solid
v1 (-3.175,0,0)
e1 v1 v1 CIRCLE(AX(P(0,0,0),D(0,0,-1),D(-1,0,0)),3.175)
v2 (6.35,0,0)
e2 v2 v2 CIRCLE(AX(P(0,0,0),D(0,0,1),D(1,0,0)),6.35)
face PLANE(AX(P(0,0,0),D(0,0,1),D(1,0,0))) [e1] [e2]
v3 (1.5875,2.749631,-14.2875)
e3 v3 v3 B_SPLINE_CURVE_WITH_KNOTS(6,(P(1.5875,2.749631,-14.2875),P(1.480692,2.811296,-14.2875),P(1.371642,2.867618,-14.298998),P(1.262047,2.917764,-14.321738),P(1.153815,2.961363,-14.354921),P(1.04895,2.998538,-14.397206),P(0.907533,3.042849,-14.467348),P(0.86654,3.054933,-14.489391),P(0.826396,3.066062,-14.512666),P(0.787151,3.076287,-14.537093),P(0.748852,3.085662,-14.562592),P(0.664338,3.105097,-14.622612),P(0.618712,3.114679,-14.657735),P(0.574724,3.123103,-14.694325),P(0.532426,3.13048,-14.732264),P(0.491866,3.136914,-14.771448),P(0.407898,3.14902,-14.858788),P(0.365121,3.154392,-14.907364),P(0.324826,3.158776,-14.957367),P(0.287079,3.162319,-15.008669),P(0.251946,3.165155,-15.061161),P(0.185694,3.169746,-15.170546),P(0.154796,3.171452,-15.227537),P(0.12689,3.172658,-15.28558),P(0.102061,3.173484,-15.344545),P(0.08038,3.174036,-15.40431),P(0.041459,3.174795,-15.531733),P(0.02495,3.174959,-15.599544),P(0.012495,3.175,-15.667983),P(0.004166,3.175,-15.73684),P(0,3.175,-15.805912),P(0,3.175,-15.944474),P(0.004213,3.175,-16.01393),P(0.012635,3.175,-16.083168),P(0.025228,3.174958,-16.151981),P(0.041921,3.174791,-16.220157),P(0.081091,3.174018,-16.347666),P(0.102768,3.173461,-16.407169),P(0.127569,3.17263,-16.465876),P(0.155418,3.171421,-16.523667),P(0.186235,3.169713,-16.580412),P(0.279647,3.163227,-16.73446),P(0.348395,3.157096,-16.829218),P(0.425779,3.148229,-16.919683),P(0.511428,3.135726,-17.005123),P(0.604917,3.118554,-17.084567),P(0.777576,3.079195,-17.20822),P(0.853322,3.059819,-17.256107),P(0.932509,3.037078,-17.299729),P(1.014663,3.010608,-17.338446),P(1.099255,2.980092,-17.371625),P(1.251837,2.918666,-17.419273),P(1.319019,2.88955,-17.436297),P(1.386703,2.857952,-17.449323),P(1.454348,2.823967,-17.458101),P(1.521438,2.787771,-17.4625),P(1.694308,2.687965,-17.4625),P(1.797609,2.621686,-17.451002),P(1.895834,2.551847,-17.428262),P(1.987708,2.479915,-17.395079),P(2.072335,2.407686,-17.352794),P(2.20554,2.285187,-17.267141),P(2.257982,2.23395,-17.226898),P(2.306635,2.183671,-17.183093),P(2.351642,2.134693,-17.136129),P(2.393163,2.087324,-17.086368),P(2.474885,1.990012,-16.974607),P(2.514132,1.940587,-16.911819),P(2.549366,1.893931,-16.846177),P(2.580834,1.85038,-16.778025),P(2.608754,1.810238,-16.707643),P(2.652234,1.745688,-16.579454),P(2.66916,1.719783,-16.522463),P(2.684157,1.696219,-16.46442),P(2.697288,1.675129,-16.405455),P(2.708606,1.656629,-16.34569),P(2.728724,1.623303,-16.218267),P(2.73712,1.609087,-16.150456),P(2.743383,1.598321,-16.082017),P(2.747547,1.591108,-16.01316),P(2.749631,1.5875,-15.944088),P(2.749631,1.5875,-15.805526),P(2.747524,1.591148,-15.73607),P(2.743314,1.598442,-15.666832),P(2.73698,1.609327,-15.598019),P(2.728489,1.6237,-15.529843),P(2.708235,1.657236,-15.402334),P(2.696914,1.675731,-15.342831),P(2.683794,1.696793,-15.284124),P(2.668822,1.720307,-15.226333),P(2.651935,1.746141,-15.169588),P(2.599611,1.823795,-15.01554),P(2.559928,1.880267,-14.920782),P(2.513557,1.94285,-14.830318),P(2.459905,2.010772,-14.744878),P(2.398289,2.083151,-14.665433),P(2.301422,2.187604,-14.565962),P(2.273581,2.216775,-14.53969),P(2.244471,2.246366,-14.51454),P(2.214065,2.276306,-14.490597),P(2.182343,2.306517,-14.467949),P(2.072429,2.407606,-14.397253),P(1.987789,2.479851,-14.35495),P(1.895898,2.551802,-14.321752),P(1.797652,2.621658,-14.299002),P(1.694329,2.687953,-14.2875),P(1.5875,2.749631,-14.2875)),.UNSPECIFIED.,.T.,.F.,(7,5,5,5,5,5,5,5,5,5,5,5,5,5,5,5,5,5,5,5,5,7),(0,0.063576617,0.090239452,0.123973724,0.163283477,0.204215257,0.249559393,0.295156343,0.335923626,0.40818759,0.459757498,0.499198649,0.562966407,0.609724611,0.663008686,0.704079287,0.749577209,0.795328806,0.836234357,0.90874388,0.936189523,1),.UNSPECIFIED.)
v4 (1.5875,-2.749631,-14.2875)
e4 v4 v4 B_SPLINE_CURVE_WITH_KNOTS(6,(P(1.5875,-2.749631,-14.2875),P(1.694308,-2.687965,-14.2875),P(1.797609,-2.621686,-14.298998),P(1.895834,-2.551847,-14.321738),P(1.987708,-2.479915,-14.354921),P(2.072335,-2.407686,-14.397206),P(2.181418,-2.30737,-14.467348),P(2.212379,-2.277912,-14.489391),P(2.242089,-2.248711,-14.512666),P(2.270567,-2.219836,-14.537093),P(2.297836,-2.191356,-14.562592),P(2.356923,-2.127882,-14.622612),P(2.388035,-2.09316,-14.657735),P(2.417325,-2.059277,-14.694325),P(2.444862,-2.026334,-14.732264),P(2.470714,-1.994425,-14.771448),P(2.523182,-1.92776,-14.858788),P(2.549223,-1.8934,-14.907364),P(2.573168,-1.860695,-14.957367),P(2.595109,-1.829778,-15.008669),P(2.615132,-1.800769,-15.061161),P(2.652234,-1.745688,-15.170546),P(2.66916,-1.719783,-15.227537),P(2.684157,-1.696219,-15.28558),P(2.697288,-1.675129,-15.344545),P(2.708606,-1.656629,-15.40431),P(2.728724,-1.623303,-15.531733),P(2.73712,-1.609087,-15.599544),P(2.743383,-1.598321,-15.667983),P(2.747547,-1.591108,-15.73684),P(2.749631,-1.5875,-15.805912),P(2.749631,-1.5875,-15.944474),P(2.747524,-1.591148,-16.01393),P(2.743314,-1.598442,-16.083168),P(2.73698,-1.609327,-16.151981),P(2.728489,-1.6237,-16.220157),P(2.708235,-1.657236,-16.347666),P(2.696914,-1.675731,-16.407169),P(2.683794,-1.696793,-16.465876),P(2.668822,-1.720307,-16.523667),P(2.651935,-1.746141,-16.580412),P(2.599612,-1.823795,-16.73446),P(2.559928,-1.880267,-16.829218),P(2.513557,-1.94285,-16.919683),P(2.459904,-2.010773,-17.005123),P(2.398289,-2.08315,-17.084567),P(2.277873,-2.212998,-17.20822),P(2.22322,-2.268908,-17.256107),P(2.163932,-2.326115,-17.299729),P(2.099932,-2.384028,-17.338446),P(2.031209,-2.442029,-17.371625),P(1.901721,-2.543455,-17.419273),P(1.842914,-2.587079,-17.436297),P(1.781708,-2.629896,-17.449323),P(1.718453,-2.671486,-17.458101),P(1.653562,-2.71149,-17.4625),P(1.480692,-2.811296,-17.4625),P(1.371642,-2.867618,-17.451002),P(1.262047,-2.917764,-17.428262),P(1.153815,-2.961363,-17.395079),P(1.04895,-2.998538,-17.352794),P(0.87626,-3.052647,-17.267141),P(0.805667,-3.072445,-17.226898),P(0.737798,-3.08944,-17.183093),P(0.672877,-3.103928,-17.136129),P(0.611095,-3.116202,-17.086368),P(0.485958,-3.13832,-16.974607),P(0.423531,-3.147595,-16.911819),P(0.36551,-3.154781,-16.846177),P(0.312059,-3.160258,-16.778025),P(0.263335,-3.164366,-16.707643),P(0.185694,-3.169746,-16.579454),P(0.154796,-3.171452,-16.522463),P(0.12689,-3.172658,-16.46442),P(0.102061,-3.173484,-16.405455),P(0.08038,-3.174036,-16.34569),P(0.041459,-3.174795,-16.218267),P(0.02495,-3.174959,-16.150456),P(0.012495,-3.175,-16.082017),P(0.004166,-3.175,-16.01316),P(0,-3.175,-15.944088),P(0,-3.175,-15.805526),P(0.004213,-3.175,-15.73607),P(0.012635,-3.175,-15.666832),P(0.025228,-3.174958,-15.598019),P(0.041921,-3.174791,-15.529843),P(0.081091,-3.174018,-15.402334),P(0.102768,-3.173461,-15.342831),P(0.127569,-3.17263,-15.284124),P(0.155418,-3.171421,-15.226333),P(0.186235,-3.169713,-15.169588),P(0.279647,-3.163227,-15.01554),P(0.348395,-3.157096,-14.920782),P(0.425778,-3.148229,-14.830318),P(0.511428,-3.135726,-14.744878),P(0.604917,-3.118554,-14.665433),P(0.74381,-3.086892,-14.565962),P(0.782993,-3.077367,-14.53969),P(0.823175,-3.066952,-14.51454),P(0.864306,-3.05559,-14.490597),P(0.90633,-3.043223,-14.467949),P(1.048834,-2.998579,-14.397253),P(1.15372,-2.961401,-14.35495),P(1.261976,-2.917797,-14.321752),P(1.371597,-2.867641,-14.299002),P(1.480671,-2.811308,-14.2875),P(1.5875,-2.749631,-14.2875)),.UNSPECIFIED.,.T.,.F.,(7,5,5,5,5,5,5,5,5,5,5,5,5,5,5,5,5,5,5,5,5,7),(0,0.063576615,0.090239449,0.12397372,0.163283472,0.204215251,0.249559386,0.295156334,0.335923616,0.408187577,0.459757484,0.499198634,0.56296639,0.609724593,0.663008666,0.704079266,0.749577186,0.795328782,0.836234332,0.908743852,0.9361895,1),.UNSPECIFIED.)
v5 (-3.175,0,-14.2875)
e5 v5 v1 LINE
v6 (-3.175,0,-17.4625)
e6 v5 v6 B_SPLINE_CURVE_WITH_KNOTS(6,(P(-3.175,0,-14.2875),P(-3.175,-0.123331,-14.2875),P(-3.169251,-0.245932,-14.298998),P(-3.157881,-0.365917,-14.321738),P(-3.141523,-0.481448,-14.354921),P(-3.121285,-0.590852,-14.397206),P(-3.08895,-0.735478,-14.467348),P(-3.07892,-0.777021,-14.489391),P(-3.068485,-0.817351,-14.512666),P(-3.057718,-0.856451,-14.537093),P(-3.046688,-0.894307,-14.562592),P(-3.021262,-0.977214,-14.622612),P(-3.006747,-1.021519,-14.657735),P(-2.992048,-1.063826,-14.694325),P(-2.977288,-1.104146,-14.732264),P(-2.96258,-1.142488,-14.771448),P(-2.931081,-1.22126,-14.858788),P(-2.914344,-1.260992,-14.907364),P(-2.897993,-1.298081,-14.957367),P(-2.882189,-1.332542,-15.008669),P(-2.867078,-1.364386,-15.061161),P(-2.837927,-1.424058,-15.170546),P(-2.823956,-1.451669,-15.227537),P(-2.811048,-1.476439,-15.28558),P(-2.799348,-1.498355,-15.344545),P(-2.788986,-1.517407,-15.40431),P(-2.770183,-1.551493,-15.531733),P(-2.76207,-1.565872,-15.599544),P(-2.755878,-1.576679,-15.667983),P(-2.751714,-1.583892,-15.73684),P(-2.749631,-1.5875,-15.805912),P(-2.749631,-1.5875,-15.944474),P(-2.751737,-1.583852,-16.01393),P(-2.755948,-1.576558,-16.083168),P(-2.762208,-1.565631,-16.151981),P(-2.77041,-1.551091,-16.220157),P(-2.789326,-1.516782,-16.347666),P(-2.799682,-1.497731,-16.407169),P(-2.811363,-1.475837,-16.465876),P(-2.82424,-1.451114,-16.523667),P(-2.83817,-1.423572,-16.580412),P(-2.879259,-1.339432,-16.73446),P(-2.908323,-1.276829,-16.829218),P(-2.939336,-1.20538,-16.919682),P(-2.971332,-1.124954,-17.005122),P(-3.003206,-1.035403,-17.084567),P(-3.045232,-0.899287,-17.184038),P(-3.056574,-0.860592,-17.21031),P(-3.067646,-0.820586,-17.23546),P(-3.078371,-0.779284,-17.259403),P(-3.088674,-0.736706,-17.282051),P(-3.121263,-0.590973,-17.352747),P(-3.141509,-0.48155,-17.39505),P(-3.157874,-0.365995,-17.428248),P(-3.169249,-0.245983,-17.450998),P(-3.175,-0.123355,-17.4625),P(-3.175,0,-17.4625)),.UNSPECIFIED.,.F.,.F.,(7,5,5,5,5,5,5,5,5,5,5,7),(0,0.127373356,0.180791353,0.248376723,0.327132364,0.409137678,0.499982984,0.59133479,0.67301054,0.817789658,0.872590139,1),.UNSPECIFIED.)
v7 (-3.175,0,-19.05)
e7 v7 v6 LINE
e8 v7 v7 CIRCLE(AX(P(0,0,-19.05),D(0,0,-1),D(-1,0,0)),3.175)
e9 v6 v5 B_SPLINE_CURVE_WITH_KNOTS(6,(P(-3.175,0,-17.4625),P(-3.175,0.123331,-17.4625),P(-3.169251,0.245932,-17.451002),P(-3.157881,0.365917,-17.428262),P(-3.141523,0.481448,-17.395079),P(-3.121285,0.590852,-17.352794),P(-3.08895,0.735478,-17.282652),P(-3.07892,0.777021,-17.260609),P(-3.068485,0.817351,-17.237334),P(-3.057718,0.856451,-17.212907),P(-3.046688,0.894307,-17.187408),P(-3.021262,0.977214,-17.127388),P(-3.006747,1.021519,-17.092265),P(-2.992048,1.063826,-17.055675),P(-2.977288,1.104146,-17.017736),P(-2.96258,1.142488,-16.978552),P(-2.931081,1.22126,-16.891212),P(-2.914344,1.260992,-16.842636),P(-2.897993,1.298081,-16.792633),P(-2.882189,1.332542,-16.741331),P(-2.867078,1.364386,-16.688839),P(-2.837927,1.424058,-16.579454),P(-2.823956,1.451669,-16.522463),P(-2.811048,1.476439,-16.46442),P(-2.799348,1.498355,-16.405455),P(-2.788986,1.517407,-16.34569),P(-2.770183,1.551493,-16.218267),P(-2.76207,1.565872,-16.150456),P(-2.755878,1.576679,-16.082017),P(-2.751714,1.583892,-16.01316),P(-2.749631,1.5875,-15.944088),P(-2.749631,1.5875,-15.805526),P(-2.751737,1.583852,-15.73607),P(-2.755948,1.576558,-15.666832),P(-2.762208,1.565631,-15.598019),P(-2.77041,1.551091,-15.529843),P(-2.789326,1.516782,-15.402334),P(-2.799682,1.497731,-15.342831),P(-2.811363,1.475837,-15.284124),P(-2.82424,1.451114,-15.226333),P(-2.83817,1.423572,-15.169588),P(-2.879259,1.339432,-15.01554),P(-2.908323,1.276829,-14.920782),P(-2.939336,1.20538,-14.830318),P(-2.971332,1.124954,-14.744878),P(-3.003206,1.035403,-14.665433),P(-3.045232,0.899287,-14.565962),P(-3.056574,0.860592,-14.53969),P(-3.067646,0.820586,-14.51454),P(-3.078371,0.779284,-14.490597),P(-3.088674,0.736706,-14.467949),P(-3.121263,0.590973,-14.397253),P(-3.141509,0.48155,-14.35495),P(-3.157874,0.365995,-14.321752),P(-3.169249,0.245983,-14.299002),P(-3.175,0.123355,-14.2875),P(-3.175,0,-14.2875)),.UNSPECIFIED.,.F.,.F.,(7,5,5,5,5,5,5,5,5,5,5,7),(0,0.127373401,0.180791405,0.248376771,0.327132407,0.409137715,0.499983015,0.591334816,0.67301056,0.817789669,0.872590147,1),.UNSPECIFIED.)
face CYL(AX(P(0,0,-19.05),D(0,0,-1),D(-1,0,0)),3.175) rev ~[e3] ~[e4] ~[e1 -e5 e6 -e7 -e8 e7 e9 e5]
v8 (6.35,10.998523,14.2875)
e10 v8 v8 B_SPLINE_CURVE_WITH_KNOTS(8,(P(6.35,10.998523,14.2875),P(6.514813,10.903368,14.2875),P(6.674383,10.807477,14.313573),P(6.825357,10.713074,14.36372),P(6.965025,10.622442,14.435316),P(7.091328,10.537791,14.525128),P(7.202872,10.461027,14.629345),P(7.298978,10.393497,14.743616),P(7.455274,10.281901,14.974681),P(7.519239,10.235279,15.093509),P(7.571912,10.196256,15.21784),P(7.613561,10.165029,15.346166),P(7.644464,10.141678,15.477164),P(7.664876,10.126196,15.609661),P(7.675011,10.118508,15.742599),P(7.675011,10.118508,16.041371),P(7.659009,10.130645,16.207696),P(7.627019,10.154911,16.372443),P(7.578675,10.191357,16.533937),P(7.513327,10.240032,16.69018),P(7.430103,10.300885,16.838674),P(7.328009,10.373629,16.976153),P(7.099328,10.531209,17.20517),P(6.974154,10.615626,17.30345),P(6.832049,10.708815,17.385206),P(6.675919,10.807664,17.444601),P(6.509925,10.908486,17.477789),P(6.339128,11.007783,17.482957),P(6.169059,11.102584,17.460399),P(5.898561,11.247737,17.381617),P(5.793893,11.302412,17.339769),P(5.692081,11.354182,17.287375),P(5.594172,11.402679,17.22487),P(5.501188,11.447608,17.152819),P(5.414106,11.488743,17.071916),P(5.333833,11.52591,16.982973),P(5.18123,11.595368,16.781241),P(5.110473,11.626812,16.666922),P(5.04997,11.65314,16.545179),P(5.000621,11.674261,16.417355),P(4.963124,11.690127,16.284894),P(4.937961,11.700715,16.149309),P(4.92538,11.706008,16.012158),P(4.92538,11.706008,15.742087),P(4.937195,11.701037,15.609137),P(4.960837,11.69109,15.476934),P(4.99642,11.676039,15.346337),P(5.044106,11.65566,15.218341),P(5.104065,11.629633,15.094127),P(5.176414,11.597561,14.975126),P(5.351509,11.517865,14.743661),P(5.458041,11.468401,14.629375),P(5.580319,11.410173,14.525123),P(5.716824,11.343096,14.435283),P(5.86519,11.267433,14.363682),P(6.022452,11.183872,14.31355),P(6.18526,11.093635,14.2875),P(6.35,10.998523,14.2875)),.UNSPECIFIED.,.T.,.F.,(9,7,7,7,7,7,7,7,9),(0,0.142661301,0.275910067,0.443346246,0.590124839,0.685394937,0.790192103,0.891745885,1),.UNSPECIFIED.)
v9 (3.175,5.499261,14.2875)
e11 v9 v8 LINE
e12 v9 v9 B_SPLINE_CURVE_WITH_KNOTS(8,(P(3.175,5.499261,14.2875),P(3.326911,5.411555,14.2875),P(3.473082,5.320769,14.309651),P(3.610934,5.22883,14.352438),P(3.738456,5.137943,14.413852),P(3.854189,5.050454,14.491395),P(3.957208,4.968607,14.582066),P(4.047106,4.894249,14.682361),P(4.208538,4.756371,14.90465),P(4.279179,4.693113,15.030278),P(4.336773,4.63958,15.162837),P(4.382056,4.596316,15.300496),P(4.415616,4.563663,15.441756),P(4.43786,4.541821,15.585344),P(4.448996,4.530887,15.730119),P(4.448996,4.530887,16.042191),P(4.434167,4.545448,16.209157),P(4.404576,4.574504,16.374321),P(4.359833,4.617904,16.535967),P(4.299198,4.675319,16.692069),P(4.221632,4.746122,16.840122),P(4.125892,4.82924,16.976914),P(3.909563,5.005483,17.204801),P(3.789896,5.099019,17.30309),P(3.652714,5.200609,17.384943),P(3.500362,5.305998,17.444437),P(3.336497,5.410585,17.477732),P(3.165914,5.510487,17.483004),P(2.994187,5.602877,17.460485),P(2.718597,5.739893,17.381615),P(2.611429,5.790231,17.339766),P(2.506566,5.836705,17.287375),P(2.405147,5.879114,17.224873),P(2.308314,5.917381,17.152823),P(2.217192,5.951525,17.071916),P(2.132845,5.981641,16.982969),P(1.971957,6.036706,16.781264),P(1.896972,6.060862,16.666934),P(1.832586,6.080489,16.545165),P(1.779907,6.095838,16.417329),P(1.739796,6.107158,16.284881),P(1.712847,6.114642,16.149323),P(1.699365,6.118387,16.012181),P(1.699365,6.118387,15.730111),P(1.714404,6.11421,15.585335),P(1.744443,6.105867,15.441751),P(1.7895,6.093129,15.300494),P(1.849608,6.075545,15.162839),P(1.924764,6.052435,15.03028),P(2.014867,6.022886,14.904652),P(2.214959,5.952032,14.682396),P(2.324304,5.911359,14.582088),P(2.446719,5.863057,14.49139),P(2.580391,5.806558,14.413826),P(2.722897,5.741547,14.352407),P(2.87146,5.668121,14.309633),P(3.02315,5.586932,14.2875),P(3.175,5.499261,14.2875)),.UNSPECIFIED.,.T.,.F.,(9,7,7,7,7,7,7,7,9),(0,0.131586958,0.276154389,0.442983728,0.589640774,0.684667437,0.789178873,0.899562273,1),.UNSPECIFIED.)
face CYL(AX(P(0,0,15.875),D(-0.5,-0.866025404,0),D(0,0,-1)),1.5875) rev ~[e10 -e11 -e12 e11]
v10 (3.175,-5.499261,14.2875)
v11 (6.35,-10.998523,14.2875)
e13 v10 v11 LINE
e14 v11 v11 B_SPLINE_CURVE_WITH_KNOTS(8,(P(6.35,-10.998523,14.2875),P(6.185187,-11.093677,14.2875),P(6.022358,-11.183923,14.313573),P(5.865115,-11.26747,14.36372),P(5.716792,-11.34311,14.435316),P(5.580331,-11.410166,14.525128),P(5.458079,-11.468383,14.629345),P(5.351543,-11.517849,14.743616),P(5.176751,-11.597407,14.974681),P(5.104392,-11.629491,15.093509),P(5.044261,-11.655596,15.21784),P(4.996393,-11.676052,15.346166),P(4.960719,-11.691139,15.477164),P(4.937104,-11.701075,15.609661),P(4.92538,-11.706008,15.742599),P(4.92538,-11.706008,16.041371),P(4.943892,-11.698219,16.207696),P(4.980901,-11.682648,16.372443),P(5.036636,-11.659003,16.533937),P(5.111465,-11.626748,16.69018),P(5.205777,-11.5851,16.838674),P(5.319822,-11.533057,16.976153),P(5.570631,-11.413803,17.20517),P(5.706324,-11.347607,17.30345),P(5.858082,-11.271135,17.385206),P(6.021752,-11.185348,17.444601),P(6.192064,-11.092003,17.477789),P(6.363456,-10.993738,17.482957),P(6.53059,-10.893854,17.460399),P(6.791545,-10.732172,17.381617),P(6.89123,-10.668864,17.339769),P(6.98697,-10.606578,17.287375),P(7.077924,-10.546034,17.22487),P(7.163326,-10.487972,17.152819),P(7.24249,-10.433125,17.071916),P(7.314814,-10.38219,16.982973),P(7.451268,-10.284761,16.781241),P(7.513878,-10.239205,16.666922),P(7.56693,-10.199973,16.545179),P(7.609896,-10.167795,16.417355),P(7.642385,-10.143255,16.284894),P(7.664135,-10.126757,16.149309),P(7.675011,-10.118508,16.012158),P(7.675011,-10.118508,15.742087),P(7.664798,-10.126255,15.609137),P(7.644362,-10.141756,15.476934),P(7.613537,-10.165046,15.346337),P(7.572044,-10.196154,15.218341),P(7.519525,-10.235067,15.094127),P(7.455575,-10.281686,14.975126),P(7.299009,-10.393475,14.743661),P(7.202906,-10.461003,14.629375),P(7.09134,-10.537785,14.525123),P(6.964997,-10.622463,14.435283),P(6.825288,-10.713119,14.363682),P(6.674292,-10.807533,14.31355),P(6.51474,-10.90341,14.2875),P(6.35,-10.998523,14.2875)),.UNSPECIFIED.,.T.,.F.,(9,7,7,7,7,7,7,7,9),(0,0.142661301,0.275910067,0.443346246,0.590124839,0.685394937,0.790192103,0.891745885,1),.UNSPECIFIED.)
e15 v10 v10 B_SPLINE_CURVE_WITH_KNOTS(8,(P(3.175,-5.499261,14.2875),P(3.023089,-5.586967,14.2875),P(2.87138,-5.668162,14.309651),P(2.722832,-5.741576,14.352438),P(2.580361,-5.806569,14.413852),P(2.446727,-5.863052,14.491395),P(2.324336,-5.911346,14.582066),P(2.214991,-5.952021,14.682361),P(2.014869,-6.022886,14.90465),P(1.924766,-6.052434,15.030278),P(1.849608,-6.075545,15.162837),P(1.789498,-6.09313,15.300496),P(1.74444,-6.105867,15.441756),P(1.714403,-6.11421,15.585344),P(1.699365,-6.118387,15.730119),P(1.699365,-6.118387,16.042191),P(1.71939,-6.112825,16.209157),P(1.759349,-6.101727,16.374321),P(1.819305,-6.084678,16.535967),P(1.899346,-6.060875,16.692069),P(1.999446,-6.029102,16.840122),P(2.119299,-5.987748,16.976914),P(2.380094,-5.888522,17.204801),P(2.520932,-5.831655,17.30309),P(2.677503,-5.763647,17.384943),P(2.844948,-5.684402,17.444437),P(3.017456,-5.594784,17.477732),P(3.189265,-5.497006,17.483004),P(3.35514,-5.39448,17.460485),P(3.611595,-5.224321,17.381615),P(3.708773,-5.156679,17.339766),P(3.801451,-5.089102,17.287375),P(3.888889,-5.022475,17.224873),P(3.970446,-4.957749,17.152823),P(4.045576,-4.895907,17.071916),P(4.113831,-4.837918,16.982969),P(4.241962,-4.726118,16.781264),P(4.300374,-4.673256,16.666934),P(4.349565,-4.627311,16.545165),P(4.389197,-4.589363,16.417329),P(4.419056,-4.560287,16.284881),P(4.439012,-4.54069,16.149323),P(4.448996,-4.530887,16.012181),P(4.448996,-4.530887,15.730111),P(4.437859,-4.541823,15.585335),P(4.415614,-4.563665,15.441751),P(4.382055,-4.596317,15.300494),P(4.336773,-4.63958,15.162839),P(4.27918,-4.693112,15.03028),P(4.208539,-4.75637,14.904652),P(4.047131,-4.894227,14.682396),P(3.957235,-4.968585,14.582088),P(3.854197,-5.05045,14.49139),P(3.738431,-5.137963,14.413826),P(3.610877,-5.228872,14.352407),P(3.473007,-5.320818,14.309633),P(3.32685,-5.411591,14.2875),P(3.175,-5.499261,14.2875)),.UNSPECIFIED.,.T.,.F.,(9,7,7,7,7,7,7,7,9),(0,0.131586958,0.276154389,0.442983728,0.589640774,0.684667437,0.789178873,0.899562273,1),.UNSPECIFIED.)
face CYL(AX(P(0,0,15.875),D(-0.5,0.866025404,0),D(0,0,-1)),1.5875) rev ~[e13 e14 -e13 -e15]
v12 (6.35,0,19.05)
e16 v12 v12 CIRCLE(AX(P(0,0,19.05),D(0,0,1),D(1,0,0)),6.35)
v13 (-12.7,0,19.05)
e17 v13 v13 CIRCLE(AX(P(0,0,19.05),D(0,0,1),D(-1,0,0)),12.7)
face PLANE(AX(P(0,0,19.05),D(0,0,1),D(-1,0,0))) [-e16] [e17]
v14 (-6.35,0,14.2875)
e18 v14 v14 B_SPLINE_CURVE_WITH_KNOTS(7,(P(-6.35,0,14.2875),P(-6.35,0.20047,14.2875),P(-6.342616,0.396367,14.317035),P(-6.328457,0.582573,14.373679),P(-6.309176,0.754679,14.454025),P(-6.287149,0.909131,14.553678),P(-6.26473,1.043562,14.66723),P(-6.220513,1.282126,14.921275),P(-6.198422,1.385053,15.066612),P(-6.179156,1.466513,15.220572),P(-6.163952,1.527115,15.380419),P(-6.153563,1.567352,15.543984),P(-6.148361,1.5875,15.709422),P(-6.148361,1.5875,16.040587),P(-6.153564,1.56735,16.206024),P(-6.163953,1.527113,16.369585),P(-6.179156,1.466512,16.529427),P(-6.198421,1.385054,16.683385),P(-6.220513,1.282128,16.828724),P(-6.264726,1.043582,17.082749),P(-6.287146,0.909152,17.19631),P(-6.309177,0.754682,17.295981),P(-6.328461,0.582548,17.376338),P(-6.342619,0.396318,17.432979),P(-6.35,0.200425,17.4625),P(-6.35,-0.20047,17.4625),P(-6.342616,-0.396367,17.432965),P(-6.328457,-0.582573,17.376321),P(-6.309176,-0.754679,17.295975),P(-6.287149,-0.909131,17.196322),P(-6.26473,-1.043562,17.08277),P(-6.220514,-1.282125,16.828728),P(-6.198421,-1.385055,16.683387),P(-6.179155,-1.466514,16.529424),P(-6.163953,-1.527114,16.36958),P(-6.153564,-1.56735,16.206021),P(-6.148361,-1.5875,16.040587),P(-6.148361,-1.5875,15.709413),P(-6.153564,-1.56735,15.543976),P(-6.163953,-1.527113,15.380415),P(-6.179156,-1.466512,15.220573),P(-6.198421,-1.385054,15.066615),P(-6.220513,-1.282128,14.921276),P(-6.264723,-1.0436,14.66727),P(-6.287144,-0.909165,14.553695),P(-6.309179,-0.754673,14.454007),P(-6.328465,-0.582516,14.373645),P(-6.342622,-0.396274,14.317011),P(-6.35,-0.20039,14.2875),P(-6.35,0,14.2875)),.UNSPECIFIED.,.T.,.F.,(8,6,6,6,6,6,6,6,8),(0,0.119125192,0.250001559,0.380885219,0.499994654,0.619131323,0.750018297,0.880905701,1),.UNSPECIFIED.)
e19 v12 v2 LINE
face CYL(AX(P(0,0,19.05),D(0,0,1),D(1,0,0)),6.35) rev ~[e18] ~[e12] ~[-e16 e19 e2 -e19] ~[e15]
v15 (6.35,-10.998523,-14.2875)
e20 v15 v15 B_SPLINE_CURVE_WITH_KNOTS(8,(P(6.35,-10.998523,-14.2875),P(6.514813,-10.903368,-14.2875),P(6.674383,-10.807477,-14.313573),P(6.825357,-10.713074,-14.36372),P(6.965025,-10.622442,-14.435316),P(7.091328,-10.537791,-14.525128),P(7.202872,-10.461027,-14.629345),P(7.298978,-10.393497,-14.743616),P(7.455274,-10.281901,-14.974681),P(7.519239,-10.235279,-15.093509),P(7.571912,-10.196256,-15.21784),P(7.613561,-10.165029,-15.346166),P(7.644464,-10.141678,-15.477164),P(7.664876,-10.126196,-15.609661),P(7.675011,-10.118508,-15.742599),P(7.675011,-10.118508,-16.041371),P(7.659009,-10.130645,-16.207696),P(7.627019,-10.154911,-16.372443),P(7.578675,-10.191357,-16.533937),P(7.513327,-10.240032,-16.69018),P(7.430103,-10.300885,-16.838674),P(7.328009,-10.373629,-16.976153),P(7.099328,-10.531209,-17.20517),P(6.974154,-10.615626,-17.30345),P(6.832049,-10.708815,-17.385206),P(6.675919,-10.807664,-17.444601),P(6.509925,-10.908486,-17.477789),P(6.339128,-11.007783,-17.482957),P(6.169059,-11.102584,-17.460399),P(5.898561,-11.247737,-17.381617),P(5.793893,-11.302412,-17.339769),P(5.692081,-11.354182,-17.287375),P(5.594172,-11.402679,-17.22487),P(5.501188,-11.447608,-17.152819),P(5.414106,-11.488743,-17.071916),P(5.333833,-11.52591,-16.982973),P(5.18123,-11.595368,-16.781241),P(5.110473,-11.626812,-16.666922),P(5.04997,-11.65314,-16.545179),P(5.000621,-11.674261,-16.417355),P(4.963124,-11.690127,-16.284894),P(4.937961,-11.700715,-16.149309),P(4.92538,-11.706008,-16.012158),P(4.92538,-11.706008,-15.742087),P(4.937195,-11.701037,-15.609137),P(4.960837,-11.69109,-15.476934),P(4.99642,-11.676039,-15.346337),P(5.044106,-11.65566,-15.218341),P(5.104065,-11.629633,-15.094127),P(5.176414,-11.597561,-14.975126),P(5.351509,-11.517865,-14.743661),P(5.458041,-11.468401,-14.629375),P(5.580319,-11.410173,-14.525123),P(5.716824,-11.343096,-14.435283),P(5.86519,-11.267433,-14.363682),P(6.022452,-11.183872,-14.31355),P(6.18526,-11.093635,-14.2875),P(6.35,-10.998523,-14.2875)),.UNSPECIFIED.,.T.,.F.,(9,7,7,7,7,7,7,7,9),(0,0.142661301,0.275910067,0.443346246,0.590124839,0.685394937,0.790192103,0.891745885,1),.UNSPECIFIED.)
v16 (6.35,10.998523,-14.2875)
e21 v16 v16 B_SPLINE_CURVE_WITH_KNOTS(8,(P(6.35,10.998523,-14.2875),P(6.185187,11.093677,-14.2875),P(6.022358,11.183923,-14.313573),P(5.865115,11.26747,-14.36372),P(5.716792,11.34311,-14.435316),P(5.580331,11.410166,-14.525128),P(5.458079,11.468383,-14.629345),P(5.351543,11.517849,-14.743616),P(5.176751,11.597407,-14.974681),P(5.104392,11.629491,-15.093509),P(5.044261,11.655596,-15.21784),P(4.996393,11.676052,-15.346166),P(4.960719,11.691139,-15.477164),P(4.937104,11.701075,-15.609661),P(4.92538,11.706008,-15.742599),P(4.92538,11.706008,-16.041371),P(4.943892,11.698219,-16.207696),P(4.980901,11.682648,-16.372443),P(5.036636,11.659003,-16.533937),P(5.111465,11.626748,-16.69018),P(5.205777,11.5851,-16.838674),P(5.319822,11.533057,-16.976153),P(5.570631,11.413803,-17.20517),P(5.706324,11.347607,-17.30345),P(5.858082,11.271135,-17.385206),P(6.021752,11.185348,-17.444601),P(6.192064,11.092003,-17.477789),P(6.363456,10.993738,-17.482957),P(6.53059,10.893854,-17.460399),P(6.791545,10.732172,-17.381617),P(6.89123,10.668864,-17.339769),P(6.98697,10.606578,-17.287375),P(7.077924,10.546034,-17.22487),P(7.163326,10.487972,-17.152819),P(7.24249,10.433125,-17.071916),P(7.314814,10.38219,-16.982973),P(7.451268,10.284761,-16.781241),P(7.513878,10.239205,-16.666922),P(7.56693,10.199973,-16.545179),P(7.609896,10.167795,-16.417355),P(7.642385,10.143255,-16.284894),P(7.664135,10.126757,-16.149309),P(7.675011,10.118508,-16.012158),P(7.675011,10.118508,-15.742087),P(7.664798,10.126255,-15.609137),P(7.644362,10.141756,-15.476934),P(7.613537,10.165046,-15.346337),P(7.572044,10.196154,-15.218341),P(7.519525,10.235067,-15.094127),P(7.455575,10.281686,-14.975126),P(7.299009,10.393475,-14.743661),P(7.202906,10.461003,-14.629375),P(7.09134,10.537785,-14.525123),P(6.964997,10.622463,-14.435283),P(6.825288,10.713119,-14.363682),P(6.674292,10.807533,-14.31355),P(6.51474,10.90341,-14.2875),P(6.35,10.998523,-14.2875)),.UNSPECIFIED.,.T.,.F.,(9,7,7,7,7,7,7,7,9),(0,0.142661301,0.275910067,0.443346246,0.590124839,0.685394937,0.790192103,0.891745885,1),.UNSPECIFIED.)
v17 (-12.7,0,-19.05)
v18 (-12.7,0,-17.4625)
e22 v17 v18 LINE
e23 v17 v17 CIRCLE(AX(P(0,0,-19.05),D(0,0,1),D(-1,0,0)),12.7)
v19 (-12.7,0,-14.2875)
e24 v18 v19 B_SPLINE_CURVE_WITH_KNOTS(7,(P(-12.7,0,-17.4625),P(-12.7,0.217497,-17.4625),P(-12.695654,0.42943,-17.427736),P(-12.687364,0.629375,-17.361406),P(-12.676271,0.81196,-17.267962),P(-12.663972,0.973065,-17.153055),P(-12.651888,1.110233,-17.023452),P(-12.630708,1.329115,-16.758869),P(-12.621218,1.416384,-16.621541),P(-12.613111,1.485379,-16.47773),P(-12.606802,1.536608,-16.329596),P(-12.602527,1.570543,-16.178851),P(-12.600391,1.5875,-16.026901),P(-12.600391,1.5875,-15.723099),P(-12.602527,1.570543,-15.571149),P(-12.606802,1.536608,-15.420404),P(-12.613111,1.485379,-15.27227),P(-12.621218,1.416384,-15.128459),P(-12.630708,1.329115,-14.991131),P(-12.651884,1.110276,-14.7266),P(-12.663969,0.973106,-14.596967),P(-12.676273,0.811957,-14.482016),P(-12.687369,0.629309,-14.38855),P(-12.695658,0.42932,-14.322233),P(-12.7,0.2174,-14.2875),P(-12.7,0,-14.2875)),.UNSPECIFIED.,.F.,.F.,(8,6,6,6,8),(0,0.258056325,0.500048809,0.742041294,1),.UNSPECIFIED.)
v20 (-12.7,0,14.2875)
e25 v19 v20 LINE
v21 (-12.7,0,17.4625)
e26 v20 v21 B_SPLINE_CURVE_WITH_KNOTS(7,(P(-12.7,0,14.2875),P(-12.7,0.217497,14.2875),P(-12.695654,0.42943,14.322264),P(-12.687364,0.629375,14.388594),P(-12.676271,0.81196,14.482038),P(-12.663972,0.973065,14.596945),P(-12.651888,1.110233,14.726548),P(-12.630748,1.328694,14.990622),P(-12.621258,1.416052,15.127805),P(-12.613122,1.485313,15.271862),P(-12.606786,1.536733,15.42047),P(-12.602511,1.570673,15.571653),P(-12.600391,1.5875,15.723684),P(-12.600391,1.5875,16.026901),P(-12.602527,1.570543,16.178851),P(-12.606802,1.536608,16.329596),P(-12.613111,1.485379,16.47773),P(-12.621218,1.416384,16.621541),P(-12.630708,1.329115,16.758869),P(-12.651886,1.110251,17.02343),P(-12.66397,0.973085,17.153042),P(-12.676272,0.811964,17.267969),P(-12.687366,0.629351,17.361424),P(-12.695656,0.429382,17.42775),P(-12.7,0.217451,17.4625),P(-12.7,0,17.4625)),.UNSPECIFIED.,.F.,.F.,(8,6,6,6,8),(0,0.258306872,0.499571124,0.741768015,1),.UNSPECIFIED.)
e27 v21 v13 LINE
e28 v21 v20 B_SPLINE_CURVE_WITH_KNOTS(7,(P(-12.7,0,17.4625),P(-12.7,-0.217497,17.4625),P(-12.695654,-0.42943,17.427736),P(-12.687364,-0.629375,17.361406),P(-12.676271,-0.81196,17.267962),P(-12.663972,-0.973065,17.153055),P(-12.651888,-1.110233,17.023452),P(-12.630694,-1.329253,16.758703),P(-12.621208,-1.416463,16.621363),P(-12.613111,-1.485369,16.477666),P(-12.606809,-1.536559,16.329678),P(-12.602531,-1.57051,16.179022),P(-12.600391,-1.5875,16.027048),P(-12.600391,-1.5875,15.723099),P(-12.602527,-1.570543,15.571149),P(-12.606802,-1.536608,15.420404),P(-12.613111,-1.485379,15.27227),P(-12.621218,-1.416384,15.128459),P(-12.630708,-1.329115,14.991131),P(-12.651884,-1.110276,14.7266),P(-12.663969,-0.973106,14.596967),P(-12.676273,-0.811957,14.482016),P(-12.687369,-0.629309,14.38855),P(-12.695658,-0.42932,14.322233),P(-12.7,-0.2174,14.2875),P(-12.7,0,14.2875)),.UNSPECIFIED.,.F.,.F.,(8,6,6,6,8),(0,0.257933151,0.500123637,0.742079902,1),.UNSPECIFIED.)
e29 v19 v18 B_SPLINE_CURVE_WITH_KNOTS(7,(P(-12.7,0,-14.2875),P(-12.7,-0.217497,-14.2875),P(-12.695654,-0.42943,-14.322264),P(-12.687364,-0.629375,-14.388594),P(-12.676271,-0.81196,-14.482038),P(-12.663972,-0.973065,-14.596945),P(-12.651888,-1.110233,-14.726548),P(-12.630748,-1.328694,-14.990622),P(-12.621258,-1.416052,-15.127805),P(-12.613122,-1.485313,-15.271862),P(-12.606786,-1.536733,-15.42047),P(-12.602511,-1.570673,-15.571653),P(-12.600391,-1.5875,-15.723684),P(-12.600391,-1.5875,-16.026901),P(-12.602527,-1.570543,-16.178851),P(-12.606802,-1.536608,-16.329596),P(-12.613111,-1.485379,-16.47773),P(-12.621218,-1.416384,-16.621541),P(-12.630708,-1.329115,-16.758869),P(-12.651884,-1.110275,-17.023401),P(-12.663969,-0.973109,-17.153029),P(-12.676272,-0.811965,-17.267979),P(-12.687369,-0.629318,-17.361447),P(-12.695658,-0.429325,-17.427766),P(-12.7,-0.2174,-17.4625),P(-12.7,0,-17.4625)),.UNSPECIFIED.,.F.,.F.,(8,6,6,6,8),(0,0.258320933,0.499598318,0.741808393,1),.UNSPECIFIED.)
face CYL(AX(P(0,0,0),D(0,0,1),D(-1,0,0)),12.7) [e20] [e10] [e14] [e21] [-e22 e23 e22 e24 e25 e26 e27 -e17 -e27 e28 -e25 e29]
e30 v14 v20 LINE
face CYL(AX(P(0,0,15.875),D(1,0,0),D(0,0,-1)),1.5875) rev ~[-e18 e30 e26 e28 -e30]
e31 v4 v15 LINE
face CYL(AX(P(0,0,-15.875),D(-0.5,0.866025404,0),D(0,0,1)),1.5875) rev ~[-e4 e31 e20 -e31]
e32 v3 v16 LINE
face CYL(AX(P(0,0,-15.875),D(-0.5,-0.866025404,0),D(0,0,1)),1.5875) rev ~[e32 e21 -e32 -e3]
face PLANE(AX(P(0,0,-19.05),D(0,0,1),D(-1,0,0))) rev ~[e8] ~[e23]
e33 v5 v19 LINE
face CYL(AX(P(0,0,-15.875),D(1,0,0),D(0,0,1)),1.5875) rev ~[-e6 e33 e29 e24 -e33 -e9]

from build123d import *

# Parameters (mm, degrees)
SKETCH1_R           = 12.7
BOSS_EXTRUDE1_DEPTH = 19.05
SKETCH2_R           = 6.35
CUT_EXTRUDE1_DEPTH  = 19.05
SKETCH3_R           = 3.175
CUT_EXTRUDE2_DEPTH  = 19.05
SKETCH4_R           = 1.5875
CUT_EXTRUDE3_DEPTH  = 19.05
CIRPATTERN1_COUNT   = 3


with BuildPart() as part:
    # Sketch1 → Boss-Extrude1 (new, symmetric)
    with BuildSketch(Plane.XY):
        with Locations(Location((0, 0, 0), (0, 0, 180))):
            Circle(SKETCH1_R)
    extrude(amount=BOSS_EXTRUDE1_DEPTH, both=True)

    # Sketch2 → Cut-Extrude1 (cut)
    with BuildSketch(Plane.XY.offset(19.05)):
        Circle(SKETCH2_R)
    extrude(amount=-CUT_EXTRUDE1_DEPTH, mode=Mode.SUBTRACT)

    # Sketch3 → Cut-Extrude2 (cut)
    with BuildSketch(Plane(origin=(0, 0, -19.05), x_dir=(-1, 0, 0), z_dir=(0, 0, -1))):
        Circle(SKETCH3_R)
    extrude(amount=-CUT_EXTRUDE2_DEPTH, mode=Mode.SUBTRACT)

    # Sketch4 → Cut-Extrude3 (cut)
    with BuildSketch(Plane(origin=(0, 0, 0), x_dir=(0, 0, -1), z_dir=(1, 0, 0))):
        with Locations(Location((15.875, 0, 0), (0, 0, 180))):
            Circle(SKETCH4_R)
        with Locations((-15.875, 0)):
            Circle(SKETCH4_R)
    cut_extrude3 = extrude(amount=-CUT_EXTRUDE3_DEPTH, mode=Mode.SUBTRACT)

    # CirPattern1: Cut-Extrude3 ×3 about axis
    cirpattern1_axis = Axis((0, 0, 19.05), (0, 0, -1))
    for i in range(1, CIRPATTERN1_COUNT):
        add(cut_extrude3.rotate(cirpattern1_axis, i * 360 / CIRPATTERN1_COUNT), mode=Mode.SUBTRACT)


solid = part.part
